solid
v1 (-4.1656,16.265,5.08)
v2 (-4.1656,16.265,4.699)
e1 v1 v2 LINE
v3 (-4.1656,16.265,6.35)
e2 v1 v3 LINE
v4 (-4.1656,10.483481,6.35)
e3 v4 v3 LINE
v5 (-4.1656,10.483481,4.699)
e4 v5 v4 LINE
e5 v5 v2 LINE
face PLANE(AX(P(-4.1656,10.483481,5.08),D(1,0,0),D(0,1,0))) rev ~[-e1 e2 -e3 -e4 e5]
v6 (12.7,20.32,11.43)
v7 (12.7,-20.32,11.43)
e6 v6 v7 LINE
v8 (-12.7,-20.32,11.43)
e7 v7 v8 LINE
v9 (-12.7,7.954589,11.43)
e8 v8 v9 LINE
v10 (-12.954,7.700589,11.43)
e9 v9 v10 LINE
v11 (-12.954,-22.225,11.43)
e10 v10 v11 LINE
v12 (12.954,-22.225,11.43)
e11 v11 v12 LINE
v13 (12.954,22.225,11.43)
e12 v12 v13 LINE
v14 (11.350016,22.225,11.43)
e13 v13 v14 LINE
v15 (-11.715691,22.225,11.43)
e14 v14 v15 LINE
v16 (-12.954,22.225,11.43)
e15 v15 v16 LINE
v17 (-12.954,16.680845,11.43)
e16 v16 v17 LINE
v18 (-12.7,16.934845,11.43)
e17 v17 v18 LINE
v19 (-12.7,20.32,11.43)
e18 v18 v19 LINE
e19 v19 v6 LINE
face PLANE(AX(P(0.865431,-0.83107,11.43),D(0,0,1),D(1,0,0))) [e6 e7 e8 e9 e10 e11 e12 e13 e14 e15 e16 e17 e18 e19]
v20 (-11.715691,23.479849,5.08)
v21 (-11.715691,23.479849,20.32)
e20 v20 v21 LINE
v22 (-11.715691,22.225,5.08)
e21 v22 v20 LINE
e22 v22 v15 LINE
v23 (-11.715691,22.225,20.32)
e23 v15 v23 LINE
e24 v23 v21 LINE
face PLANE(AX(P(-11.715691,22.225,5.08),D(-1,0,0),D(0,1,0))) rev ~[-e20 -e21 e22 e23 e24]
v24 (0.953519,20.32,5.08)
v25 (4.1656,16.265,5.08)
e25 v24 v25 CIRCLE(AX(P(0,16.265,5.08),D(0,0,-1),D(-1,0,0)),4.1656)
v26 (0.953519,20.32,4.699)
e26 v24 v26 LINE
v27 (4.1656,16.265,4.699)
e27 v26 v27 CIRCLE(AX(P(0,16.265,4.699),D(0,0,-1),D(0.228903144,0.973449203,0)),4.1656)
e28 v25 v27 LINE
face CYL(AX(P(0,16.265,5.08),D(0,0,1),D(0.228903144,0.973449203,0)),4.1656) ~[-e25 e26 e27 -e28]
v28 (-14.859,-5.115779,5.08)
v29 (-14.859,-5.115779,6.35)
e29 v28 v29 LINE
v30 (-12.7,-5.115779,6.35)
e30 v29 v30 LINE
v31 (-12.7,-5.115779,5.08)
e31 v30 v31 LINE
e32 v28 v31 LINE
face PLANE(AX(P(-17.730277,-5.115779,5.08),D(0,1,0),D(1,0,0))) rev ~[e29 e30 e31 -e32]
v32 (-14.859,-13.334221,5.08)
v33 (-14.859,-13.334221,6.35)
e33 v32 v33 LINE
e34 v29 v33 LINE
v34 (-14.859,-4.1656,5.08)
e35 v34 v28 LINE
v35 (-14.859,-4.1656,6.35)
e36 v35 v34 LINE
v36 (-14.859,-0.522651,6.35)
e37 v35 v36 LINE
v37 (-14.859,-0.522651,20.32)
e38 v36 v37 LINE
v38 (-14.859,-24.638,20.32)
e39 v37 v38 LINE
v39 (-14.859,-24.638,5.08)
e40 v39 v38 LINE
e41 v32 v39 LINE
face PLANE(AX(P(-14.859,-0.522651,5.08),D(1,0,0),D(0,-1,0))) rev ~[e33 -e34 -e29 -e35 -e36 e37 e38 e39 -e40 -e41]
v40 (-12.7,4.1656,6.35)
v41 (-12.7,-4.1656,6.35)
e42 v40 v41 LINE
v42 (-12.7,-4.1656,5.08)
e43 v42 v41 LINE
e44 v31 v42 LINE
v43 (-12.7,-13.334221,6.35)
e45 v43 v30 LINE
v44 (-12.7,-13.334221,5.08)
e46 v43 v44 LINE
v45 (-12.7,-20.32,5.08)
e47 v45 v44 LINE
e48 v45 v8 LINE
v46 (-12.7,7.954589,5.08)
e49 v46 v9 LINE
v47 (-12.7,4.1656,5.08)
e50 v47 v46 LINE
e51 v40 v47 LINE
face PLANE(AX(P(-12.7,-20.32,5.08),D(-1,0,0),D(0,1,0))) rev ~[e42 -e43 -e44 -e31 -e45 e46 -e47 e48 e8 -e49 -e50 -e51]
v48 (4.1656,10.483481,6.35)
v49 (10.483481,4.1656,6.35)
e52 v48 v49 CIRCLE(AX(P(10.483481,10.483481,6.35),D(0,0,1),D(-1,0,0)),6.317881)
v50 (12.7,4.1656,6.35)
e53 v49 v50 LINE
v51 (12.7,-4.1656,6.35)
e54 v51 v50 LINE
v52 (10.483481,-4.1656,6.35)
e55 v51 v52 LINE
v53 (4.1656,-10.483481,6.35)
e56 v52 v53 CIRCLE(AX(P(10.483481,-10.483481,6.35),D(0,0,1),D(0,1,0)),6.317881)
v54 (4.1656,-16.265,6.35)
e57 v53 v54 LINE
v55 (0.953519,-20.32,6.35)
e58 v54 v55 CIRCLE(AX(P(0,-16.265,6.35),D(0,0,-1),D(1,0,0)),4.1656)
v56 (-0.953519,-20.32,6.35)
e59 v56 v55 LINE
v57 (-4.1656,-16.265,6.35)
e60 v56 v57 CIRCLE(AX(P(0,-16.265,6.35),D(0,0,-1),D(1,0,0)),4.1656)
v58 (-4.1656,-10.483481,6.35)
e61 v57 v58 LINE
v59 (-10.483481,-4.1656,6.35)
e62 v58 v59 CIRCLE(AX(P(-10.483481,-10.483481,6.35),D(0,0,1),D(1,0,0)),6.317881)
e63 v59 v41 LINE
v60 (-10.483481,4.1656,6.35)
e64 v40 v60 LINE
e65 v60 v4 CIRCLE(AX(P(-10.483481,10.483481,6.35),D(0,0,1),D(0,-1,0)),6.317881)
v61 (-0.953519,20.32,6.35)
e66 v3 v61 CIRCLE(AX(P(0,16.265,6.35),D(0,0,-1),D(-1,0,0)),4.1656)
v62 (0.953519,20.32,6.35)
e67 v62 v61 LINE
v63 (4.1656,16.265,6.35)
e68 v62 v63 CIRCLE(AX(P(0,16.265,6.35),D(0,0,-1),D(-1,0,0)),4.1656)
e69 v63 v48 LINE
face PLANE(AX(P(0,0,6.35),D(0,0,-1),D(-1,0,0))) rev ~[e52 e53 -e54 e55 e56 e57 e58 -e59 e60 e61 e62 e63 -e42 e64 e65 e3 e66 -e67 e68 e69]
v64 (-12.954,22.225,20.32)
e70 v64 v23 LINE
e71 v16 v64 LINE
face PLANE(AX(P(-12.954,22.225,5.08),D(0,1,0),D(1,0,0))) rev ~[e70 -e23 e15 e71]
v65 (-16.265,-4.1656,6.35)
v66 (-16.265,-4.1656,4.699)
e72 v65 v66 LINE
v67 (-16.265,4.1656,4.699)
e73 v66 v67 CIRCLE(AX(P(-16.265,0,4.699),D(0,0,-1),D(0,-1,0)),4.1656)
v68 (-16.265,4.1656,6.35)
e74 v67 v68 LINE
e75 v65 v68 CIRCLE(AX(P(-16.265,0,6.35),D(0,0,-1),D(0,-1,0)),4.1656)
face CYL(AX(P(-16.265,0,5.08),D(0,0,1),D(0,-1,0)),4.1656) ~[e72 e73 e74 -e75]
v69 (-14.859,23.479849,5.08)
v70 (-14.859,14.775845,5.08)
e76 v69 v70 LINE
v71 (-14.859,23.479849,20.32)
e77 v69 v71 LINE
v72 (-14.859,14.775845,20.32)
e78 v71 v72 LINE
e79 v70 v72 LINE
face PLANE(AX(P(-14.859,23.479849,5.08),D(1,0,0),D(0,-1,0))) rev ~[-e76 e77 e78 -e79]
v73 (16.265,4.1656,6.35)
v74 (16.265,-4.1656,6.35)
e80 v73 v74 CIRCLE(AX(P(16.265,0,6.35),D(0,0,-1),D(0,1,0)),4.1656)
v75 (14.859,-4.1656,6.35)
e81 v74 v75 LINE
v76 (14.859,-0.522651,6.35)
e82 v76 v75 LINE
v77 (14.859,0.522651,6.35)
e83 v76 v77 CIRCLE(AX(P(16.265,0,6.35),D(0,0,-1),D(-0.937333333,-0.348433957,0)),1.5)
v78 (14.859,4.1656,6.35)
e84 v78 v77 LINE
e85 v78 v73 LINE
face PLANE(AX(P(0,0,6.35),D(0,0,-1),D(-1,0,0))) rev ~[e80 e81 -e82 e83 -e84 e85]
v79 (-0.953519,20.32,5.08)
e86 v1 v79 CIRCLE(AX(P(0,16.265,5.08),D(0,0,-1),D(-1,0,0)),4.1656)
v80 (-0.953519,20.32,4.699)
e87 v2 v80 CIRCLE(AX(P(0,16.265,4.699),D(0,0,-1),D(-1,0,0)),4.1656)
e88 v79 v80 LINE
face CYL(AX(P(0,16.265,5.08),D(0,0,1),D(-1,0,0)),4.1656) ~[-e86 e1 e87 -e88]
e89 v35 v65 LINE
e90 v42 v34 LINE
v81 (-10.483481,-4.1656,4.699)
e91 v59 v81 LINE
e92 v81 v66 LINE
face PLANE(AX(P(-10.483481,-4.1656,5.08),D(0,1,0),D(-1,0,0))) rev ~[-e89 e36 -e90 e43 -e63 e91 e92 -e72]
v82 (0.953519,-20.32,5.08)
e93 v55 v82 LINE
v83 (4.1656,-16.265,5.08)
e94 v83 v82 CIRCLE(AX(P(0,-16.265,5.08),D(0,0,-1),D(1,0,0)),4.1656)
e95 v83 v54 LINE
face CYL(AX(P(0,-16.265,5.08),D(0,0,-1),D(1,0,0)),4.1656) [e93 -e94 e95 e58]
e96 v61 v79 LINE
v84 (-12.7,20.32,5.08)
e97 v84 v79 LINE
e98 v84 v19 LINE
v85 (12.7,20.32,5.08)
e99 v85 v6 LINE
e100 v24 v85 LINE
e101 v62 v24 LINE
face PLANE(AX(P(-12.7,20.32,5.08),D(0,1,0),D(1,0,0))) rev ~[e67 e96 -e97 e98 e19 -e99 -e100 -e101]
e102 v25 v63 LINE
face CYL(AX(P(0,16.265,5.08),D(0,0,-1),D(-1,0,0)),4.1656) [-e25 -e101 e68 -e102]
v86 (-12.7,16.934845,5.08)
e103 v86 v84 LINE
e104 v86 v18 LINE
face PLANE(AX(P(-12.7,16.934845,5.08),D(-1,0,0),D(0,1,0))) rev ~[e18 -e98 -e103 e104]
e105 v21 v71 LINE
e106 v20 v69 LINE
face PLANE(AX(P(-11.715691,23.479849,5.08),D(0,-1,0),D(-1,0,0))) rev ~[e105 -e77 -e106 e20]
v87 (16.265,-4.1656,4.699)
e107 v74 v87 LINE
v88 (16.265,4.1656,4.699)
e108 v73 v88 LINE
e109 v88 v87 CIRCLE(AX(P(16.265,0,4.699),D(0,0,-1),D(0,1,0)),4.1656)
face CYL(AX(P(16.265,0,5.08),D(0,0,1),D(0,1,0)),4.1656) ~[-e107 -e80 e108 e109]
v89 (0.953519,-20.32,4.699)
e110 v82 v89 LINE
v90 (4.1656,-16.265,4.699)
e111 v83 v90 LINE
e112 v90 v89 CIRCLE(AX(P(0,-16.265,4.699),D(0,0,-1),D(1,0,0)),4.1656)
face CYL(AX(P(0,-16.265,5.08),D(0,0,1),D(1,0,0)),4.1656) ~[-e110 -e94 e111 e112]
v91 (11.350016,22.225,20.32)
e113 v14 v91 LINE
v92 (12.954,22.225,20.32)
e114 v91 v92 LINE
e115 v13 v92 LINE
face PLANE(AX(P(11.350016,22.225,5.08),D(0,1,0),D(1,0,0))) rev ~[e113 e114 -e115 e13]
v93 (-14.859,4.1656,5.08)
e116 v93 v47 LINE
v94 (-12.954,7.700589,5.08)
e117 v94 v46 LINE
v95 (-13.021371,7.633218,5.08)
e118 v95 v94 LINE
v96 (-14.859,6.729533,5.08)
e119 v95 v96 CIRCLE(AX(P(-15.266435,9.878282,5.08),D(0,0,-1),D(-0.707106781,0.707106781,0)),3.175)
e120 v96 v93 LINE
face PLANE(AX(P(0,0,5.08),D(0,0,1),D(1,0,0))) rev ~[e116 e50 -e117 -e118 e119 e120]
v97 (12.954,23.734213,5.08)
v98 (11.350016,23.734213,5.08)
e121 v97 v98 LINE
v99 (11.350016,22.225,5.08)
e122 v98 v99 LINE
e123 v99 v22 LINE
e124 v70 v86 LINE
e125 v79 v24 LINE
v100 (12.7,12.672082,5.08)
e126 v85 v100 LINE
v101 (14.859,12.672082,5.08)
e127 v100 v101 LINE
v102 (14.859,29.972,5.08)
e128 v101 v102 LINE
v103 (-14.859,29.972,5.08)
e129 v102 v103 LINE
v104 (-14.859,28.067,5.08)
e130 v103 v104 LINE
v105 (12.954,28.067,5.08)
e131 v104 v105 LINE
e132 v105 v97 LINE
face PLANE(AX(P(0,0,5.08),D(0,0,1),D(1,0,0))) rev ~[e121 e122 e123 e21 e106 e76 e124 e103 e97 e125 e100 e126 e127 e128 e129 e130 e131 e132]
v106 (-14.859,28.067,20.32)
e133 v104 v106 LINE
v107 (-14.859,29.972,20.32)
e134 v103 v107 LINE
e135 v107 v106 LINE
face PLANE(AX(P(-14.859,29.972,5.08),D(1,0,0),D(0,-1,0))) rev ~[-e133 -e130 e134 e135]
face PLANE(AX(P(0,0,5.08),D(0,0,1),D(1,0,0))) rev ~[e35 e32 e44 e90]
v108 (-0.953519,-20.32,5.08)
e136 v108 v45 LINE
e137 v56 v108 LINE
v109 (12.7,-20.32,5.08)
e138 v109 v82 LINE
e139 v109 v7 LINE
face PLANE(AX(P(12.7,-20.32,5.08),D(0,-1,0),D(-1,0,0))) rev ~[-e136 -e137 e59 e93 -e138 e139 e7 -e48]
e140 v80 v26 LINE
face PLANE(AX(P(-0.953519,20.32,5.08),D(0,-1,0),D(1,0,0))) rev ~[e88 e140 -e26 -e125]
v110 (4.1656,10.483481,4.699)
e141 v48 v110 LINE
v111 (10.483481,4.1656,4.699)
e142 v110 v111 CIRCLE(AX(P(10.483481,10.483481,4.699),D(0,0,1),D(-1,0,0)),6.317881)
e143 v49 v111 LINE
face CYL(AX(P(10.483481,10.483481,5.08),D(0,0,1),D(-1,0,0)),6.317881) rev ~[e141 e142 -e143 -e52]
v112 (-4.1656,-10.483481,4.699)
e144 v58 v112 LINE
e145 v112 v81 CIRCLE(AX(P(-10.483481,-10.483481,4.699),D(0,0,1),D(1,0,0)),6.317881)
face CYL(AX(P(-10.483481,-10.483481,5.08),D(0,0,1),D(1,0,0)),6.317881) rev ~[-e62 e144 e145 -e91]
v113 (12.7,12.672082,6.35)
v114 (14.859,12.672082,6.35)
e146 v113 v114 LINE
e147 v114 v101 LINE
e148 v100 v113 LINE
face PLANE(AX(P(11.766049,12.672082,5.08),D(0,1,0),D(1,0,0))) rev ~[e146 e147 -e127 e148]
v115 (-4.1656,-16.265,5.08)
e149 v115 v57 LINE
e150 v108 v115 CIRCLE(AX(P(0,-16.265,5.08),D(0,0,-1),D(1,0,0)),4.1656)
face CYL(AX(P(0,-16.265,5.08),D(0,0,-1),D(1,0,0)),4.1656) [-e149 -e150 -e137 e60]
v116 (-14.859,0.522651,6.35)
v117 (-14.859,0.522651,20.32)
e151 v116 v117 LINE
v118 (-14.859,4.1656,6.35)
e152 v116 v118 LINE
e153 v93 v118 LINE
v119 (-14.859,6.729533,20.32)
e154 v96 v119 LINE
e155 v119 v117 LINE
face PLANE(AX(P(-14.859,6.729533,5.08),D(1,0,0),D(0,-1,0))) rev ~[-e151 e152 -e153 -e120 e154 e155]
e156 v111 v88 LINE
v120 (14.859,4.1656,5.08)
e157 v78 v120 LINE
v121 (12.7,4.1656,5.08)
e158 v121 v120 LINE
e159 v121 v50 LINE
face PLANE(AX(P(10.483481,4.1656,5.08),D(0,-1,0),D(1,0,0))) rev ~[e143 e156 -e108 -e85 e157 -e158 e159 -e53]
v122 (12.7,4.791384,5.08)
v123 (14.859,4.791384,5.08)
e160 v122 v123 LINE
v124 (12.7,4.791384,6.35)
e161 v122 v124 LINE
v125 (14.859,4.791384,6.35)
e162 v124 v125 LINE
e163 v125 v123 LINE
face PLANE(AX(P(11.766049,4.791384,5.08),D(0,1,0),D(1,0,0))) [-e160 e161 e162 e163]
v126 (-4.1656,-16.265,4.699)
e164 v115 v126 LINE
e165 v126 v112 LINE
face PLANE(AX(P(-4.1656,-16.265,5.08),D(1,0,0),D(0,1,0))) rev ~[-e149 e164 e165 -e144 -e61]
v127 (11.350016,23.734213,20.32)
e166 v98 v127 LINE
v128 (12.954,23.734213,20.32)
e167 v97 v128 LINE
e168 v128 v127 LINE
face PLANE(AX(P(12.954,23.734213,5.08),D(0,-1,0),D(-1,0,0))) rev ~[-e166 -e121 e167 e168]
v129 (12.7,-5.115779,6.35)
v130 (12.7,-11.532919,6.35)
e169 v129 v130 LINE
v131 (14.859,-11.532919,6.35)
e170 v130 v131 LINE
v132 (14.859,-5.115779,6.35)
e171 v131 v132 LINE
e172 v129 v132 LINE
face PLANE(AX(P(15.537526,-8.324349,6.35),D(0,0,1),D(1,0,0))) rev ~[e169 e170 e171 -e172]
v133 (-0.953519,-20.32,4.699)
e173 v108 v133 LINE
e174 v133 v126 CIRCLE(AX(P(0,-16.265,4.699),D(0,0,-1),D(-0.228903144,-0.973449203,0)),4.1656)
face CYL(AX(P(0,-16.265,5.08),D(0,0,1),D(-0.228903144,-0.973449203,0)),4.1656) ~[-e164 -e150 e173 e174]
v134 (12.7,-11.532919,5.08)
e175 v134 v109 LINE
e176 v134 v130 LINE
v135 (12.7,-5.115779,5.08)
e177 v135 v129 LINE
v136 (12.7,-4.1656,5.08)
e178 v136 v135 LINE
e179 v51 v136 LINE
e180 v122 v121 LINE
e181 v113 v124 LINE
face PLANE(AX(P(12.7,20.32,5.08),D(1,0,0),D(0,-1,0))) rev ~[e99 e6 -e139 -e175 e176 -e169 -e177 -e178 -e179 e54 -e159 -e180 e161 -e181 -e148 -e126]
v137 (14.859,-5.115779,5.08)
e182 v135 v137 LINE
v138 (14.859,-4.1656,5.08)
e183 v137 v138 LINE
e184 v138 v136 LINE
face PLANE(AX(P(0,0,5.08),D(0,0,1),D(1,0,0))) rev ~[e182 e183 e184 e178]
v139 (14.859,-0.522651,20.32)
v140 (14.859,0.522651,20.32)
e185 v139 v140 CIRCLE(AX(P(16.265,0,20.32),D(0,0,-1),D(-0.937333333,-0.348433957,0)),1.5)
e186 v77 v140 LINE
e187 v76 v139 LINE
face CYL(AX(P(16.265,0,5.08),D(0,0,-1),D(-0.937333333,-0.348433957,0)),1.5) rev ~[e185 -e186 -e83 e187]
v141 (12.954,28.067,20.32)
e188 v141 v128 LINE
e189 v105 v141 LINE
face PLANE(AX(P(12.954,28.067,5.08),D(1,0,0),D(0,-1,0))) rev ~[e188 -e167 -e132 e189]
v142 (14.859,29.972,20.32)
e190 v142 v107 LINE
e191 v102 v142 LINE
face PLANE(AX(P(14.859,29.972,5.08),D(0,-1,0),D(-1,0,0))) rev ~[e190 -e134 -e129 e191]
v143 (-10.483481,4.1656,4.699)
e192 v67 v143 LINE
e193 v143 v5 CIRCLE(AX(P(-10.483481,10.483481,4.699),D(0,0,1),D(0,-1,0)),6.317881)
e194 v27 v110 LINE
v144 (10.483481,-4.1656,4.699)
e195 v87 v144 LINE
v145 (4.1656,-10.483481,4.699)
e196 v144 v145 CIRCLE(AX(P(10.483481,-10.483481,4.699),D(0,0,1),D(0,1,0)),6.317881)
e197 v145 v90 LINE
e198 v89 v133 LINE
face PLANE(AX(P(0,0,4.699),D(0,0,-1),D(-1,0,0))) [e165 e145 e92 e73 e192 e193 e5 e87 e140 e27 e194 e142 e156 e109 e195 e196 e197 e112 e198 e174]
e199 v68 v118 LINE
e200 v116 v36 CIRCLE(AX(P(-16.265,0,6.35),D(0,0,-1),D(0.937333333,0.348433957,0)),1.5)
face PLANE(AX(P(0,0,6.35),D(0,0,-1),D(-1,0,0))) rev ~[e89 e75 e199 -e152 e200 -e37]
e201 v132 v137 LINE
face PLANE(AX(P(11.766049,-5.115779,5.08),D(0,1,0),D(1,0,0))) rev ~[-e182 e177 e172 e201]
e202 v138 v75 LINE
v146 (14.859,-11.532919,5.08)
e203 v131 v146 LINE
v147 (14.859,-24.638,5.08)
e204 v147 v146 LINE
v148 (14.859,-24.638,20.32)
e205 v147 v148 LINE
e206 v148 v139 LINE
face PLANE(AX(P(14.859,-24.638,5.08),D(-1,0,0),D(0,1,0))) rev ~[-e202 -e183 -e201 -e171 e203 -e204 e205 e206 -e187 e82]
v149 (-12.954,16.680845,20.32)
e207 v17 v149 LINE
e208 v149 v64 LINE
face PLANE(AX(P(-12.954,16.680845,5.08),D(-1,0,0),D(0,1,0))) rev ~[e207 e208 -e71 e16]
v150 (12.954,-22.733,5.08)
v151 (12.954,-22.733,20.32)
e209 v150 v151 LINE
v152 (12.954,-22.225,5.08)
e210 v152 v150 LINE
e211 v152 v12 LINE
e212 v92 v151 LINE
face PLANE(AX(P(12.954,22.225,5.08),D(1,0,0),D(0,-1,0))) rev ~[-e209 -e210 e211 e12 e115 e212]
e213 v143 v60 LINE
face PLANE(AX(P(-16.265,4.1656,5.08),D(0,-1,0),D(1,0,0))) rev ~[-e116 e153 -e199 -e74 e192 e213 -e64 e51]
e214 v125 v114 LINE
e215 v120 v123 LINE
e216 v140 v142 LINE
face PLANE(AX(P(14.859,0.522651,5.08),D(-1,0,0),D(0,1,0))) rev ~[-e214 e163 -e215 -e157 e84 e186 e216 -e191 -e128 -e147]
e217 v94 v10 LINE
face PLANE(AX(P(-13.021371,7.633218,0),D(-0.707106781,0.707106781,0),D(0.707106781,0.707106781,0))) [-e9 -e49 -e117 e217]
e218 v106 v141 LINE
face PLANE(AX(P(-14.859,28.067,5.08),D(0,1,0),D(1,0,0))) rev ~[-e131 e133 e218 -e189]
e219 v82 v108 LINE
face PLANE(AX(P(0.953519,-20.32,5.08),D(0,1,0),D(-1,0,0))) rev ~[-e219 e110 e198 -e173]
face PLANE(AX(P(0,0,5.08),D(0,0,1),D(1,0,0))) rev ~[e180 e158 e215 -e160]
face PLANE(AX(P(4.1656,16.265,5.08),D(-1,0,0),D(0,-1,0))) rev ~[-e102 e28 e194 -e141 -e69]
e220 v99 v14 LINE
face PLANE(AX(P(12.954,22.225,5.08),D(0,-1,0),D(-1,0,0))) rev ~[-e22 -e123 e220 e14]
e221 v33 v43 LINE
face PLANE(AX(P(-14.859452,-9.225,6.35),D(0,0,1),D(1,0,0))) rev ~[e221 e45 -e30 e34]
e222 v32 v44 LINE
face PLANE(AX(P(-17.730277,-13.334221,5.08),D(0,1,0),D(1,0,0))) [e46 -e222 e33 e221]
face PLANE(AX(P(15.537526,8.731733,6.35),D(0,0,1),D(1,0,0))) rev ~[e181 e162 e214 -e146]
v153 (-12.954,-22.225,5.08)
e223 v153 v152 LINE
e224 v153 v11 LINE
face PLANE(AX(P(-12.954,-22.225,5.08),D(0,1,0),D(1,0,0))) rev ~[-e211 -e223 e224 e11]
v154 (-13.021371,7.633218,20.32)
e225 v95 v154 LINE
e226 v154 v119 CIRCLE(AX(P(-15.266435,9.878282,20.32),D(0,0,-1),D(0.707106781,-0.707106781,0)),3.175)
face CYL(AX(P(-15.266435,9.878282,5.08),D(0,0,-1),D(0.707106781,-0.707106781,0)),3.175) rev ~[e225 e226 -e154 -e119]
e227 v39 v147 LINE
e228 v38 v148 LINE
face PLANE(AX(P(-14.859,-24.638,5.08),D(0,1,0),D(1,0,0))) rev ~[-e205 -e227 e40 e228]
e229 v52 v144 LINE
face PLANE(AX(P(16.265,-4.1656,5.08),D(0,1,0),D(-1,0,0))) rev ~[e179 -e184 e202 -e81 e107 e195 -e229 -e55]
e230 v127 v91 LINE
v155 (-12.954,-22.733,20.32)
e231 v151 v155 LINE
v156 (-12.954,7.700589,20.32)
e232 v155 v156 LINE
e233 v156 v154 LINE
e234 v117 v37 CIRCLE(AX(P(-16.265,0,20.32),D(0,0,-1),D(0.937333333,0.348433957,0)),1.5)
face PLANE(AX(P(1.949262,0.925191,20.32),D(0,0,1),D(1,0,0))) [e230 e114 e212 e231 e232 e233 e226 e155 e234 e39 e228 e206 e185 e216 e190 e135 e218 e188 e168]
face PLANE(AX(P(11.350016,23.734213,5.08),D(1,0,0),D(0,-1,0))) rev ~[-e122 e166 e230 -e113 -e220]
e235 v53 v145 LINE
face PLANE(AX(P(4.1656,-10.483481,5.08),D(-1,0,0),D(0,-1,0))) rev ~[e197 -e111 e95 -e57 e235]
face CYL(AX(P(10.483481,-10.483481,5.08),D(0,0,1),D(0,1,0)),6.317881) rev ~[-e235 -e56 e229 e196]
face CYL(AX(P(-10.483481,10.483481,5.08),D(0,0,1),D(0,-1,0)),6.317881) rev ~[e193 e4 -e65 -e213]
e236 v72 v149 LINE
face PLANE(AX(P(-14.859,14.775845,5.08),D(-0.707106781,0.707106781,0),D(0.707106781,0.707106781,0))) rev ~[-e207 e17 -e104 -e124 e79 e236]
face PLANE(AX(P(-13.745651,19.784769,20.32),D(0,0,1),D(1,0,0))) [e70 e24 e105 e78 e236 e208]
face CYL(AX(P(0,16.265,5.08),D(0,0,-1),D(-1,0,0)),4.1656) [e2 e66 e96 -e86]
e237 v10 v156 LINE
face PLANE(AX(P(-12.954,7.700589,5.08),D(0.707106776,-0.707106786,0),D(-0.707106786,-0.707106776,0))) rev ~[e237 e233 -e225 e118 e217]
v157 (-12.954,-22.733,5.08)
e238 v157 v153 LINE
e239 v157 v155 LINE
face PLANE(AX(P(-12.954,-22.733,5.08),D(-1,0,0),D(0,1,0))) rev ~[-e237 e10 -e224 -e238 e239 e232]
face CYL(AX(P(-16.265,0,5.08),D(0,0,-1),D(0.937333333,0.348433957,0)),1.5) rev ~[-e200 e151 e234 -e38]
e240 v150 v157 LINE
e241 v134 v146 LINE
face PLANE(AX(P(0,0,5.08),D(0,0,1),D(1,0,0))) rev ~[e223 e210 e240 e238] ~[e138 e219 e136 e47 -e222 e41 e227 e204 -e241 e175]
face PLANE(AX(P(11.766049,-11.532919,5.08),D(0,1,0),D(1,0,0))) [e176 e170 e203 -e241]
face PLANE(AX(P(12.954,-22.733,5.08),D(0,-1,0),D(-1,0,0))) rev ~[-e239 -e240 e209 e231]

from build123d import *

# Parameters (mm, degrees)
X_WING_DEPTH        = 12.7
SKETCH4_3_R         = 1.5
SKETCH4_3_R_2       = 3.175
HOLES_DEPTH         = 9.525
CHIP_DEPTH          = 6.35
EXTRUDE_9V_DEPTH    = 15.24
SKETCH6_3_R         = 1.27
AIR_HOLES_DEPTH     = 9.525
LIFT_START          = 5.08
LIFT_DEPTH          = 1.27
SKETCH7_W           = 7.542953633
SKETCH7_H           = 7.880697826
SKETCH7_H_2         = 6.417139658
SKETCH7_W_2         = 5.741651273
SKETCH7_H_3         = 8.218442018
AIR_SLOTS_DEPTH     = 1.27
BOSS_EXTRUDE1_DEPTH = 0.381


with BuildPart() as part:
    # Sketch2 → Body (revolve)
    with BuildSketch(Plane(origin=(0, 0, 0), x_dir=(0, 0, -1), z_dir=(1, 0, 0))):
        Polygon((4.4704, 13.9065), (0, 12.5857), (0, 0), (-5.08, 0), (-5.08, 49.53), (64.831152593, 49.53), (64.831152593, 39.37), (59.751152593, 39.37), (59.751152593, 44.45), (0, 44.45), (0, 16.4465), (4.4704, 16.4465), align=None)
    revolve(axis=Axis((0, 0, 0), (0, 0, 1)))

    # Sketch4 → X-Wing (cut)
    with BuildSketch(Plane.XY):
        with BuildLine():
            Line((-4.1656, -12.04250002), (-4.1656, -10.483480973))
            ThreePointArc((-4.1656, -10.483480973), (-6.016064494, -6.016064494), (-10.483480973, -4.1656))
            Line((-10.483480973, -4.1656), (-16.265, -4.1656))
            ThreePointArc((-16.265, -4.1656), (-20.4306, 0), (-16.265, 4.1656))
            Line((-16.265, 4.1656), (-12.04250002, 4.1656))
            Line((-12.04250002, 4.1656), (-10.483480973, 4.1656))
            ThreePointArc((-10.483480973, 4.1656), (-6.016064494, 6.016064494), (-4.1656, 10.483480973))
            Line((-4.1656, 10.483480973), (-4.1656, 12.04250002))
            Line((-4.1656, 12.04250002), (-4.1656, 16.265))
            ThreePointArc((-4.1656, 16.265), (0, 20.4306), (4.1656, 16.265))
            Line((4.1656, 16.265), (4.1656, 12.04250002))
            Line((4.1656, 12.04250002), (4.1656, 10.483480973))
            ThreePointArc((4.1656, 10.483480973), (6.016064494, 6.016064494), (10.483480973, 4.1656))
            Line((10.483480973, 4.1656), (12.04250002, 4.1656))
            Line((12.04250002, 4.1656), (16.265, 4.1656))
            ThreePointArc((16.265, 4.1656), (20.4306, 0), (16.265, -4.1656))
            Line((16.265, -4.1656), (12.04250002, -4.1656))
            Line((12.04250002, -4.1656), (10.483480973, -4.1656))
            ThreePointArc((10.483480973, -4.1656), (6.016064494, -6.016064494), (4.1656, -10.483480973))
            Line((4.1656, -10.483480973), (4.1656, -12.04250002))
            Line((4.1656, -12.04250002), (4.1656, -16.265))
            ThreePointArc((4.1656, -16.265), (0, -20.4306), (-4.1656, -16.265))
            Line((-4.1656, -16.265), (-4.1656, -12.04250002))
        make_face()
    extrude(amount=-X_WING_DEPTH, mode=Mode.SUBTRACT)

    # Sketch4<3> → Holes (cut)
    with BuildSketch(Plane.XY):
        with Locations(Location((0, -16.265, 0), (0, 0, 180))):
            Circle(SKETCH4_3_R)
        with Locations(Location((-16.265, 0, 0), (0, 0, 180))):
            Circle(SKETCH4_3_R)
        with Locations(Location((16.265, 0, 0), (0, 0, 180))):
            Circle(SKETCH4_3_R)
        with Locations(Location((0, 16.265, 0), (0, 0, 180))):
            Circle(SKETCH4_3_R)
        with BuildLine():
            ThreePointArc((-7.633217703, 13.021371376), (-7.633217703, 17.511499436), (-12.123345763, 17.511499436))
            Line((-12.123345763, 17.511499436), (-17.511499436, 12.123345763))
            ThreePointArc((-17.511499436, 12.123345763), (-17.511499436, 7.633217703), (-13.021371376, 7.633217703))
            Line((-13.021371376, 7.633217703), (-7.633217703, 13.021371376))
        make_face()
        with Locations((-8.261128525, 8.261128525)):
            Circle(SKETCH4_3_R_2)
        with Locations(Location((8.261128525, 8.261128525, 0), (0, 0, 125.826899667))):
            Circle(SKETCH4_3_R_2)
        with Locations(Location((8.261128525, -8.261128525, 0), (0, 0, 234.173100333))):
            Circle(SKETCH4_3_R_2)
        with Locations(Location((-8.261128525, -8.261128525, 0), (0, 0, 144.173100333))):
            Circle(SKETCH4_3_R_2)
    extrude(amount=HOLES_DEPTH, mode=Mode.SUBTRACT)

    # Sketch6 → Chip (add)
    with BuildSketch(Plane.XY.offset(5.08)):
        Polygon((11.350015507, 22.225), (-11.715690517, 22.225), (-12.954, 22.225), (-12.954, 16.6808452), (-12.7, 16.9348452), (-12.7, 20.32), (12.7, 20.32), (12.7, -20.32), (-12.7, -20.32), (-12.7, 7.954589078), (-12.954, 7.700589078), (-12.954, -22.225), (12.954, -22.225), (12.954, 22.225), align=None)
    extrude(amount=CHIP_DEPTH)

    # Sketch6<4> → Extrude 9V (add)
    with BuildSketch(Plane.XY.offset(5.08)):
        Polygon((-14.859, 14.7758452), (-12.954, 16.6808452), (-12.954, 22.225), (-11.715690517, 22.225), (-11.715690517, 23.479848526), (-14.859, 23.479848526), align=None)
        with BuildLine():
            ThreePointArc((-13.021371376, 7.633217703), (-13.865328691, 7.029154679), (-14.859, 6.729532555))
            Line((-14.859, 6.729532555), (-14.859, 0.522650935))
            ThreePointArc((-14.859, 0.522650935), (-14.765, 0), (-14.859, -0.522650935))
            Line((-14.859, -0.522650935), (-14.859, -24.638))
            Line((-14.859, -24.638), (14.859, -24.638))
            Line((14.859, -24.638), (14.859, -0.522650935))
            ThreePointArc((14.859, -0.522650935), (14.765, 0), (14.859, 0.522650935))
            Line((14.859, 0.522650935), (14.859, 29.972))
            Line((14.859, 29.972), (-14.859, 29.972))
            Line((-14.859, 29.972), (-14.859, 28.067))
            Line((-14.859, 28.067), (12.954, 28.067))
            Line((12.954, 28.067), (12.954, 23.734213344))
            Line((12.954, 23.734213344), (11.350015507, 23.734213344))
            Line((11.350015507, 23.734213344), (11.350015507, 22.225))
            Line((11.350015507, 22.225), (12.954, 22.225))
            Line((12.954, 22.225), (12.954, -22.733))
            Line((12.954, -22.733), (-12.954, -22.733))
            Line((-12.954, -22.733), (-12.954, 7.700589078))
            Line((-12.954, 7.700589078), (-13.021371376, 7.633217703))
        make_face()
    extrude(amount=EXTRUDE_9V_DEPTH)

    # Sketch6<3> → Air holes (cut)
    with BuildSketch(Plane.XY.offset(5.08)):
        with Locations((-23.749, -23.368)):
            Circle(SKETCH6_3_R)
        with Locations((23.114, -15.748)):
            Circle(SKETCH6_3_R)
        with Locations((-9.906, 36.322)):
            Circle(SKETCH6_3_R)
        with Locations((18.034, 36.322)):
            Circle(SKETCH6_3_R)
    extrude(amount=-AIR_HOLES_DEPTH, mode=Mode.SUBTRACT)

    # Sketch4<4> → Lift (add)
    with BuildSketch(Plane.XY.offset(LIFT_START)):
        with BuildLine():
            Line((-4.1656, -12.04250002), (-4.1656, -10.483480973))
            ThreePointArc((-4.1656, -10.483480973), (-6.016064494, -6.016064494), (-10.483480973, -4.1656))
            Line((-10.483480973, -4.1656), (-16.265, -4.1656))
            ThreePointArc((-16.265, -4.1656), (-20.4306, 0), (-16.265, 4.1656))
            Line((-16.265, 4.1656), (-12.04250002, 4.1656))
            Line((-12.04250002, 4.1656), (-10.483480973, 4.1656))
            ThreePointArc((-10.483480973, 4.1656), (-6.016064494, 6.016064494), (-4.1656, 10.483480973))
            Line((-4.1656, 10.483480973), (-4.1656, 12.04250002))
            Line((-4.1656, 12.04250002), (-4.1656, 16.265))
            ThreePointArc((-4.1656, 16.265), (0, 20.4306), (4.1656, 16.265))
            Line((4.1656, 16.265), (4.1656, 12.04250002))
            Line((4.1656, 12.04250002), (4.1656, 10.483480973))
            ThreePointArc((4.1656, 10.483480973), (6.016064494, 6.016064494), (10.483480973, 4.1656))
            Line((10.483480973, 4.1656), (12.04250002, 4.1656))
            Line((12.04250002, 4.1656), (16.265, 4.1656))
            ThreePointArc((16.265, 4.1656), (20.4306, 0), (16.265, -4.1656))
            Line((16.265, -4.1656), (12.04250002, -4.1656))
            Line((12.04250002, -4.1656), (10.483480973, -4.1656))
            ThreePointArc((10.483480973, -4.1656), (6.016064494, -6.016064494), (4.1656, -10.483480973))
            Line((4.1656, -10.483480973), (4.1656, -12.04250002))
            Line((4.1656, -12.04250002), (4.1656, -16.265))
            ThreePointArc((4.1656, -16.265), (0, -20.4306), (-4.1656, -16.265))
            Line((-4.1656, -16.265), (-4.1656, -12.04250002))
        make_face()
    extrude(amount=LIFT_DEPTH)

    # Sketch7 → Air Slots (cut)
    with BuildSketch(Plane.XY.offset(5.08)):
        with Locations((15.537525525, 8.731732869)):
            Rectangle(SKETCH7_W, SKETCH7_H)
        with Locations((15.537525525, -8.324348854)):
            Rectangle(SKETCH7_W, SKETCH7_H_2)
        with Locations((-14.859451804, -9.225000034)):
            Rectangle(SKETCH7_W_2, SKETCH7_H_3)
    extrude(amount=AIR_SLOTS_DEPTH, mode=Mode.SUBTRACT)

    # SurfaceCut1
    split(bisect_by=Plane.XY.offset(5.08), keep=Keep.TOP)

    # Sketch9 → Boss-Extrude1 (add)
    with BuildSketch(Plane(origin=(0, 0, 5.08), x_dir=(-1, 0, 0), z_dir=(0, 0, -1))):
        with BuildLine():
            Line((4.1656, 10.483480973), (4.1656, 16.265))
            ThreePointArc((4.1656, 16.265), (3.265287264, 18.8515271), (0.953518935, 20.32))
            Line((0.953518935, 20.32), (-0.953518935, 20.32))
            ThreePointArc((-0.953518935, 20.32), (-3.265287264, 18.8515271), (-4.1656, 16.265))
            Line((-4.1656, 16.265), (-4.1656, 10.483480973))
            ThreePointArc((-4.1656, 10.483480973), (-6.016064494, 6.016064494), (-10.483480973, 4.1656))
            Line((-10.483480973, 4.1656), (-12.7, 4.1656))
            Line((-12.7, 4.1656), (-14.859, 4.1656))
            Line((-14.859, 4.1656), (-16.265, 4.1656))
            ThreePointArc((-16.265, 4.1656), (-20.4306, 0), (-16.265, -4.1656))
            Line((-16.265, -4.1656), (-14.859, -4.1656))
            Line((-14.859, -4.1656), (-12.7, -4.1656))
            Line((-12.7, -4.1656), (-10.483480973, -4.1656))
            ThreePointArc((-10.483480973, -4.1656), (-6.016064494, -6.016064494), (-4.1656, -10.483480973))
            Line((-4.1656, -10.483480973), (-4.1656, -16.265))
            ThreePointArc((-4.1656, -16.265), (-3.265287264, -18.8515271), (-0.953518935, -20.32))
            Line((-0.953518935, -20.32), (0.953518935, -20.32))
            ThreePointArc((0.953518935, -20.32), (3.265287264, -18.8515271), (4.1656, -16.265))
            Line((4.1656, -16.265), (4.1656, -10.483480973))
            ThreePointArc((4.1656, -10.483480973), (6.016064494, -6.016064494), (10.483480973, -4.1656))
            Line((10.483480973, -4.1656), (12.7, -4.1656))
            Line((12.7, -4.1656), (14.859, -4.1656))
            Line((14.859, -4.1656), (16.265, -4.1656))
            ThreePointArc((16.265, -4.1656), (20.4306, 0), (16.265, 4.1656))
            Line((16.265, 4.1656), (14.859, 4.1656))
            Line((14.859, 4.1656), (12.7, 4.1656))
            Line((12.7, 4.1656), (10.483480973, 4.1656))
            ThreePointArc((10.483480973, 4.1656), (6.016064494, 6.016064494), (4.1656, 10.483480973))
        make_face()
    extrude(amount=BOSS_EXTRUDE1_DEPTH)


solid = part.part
